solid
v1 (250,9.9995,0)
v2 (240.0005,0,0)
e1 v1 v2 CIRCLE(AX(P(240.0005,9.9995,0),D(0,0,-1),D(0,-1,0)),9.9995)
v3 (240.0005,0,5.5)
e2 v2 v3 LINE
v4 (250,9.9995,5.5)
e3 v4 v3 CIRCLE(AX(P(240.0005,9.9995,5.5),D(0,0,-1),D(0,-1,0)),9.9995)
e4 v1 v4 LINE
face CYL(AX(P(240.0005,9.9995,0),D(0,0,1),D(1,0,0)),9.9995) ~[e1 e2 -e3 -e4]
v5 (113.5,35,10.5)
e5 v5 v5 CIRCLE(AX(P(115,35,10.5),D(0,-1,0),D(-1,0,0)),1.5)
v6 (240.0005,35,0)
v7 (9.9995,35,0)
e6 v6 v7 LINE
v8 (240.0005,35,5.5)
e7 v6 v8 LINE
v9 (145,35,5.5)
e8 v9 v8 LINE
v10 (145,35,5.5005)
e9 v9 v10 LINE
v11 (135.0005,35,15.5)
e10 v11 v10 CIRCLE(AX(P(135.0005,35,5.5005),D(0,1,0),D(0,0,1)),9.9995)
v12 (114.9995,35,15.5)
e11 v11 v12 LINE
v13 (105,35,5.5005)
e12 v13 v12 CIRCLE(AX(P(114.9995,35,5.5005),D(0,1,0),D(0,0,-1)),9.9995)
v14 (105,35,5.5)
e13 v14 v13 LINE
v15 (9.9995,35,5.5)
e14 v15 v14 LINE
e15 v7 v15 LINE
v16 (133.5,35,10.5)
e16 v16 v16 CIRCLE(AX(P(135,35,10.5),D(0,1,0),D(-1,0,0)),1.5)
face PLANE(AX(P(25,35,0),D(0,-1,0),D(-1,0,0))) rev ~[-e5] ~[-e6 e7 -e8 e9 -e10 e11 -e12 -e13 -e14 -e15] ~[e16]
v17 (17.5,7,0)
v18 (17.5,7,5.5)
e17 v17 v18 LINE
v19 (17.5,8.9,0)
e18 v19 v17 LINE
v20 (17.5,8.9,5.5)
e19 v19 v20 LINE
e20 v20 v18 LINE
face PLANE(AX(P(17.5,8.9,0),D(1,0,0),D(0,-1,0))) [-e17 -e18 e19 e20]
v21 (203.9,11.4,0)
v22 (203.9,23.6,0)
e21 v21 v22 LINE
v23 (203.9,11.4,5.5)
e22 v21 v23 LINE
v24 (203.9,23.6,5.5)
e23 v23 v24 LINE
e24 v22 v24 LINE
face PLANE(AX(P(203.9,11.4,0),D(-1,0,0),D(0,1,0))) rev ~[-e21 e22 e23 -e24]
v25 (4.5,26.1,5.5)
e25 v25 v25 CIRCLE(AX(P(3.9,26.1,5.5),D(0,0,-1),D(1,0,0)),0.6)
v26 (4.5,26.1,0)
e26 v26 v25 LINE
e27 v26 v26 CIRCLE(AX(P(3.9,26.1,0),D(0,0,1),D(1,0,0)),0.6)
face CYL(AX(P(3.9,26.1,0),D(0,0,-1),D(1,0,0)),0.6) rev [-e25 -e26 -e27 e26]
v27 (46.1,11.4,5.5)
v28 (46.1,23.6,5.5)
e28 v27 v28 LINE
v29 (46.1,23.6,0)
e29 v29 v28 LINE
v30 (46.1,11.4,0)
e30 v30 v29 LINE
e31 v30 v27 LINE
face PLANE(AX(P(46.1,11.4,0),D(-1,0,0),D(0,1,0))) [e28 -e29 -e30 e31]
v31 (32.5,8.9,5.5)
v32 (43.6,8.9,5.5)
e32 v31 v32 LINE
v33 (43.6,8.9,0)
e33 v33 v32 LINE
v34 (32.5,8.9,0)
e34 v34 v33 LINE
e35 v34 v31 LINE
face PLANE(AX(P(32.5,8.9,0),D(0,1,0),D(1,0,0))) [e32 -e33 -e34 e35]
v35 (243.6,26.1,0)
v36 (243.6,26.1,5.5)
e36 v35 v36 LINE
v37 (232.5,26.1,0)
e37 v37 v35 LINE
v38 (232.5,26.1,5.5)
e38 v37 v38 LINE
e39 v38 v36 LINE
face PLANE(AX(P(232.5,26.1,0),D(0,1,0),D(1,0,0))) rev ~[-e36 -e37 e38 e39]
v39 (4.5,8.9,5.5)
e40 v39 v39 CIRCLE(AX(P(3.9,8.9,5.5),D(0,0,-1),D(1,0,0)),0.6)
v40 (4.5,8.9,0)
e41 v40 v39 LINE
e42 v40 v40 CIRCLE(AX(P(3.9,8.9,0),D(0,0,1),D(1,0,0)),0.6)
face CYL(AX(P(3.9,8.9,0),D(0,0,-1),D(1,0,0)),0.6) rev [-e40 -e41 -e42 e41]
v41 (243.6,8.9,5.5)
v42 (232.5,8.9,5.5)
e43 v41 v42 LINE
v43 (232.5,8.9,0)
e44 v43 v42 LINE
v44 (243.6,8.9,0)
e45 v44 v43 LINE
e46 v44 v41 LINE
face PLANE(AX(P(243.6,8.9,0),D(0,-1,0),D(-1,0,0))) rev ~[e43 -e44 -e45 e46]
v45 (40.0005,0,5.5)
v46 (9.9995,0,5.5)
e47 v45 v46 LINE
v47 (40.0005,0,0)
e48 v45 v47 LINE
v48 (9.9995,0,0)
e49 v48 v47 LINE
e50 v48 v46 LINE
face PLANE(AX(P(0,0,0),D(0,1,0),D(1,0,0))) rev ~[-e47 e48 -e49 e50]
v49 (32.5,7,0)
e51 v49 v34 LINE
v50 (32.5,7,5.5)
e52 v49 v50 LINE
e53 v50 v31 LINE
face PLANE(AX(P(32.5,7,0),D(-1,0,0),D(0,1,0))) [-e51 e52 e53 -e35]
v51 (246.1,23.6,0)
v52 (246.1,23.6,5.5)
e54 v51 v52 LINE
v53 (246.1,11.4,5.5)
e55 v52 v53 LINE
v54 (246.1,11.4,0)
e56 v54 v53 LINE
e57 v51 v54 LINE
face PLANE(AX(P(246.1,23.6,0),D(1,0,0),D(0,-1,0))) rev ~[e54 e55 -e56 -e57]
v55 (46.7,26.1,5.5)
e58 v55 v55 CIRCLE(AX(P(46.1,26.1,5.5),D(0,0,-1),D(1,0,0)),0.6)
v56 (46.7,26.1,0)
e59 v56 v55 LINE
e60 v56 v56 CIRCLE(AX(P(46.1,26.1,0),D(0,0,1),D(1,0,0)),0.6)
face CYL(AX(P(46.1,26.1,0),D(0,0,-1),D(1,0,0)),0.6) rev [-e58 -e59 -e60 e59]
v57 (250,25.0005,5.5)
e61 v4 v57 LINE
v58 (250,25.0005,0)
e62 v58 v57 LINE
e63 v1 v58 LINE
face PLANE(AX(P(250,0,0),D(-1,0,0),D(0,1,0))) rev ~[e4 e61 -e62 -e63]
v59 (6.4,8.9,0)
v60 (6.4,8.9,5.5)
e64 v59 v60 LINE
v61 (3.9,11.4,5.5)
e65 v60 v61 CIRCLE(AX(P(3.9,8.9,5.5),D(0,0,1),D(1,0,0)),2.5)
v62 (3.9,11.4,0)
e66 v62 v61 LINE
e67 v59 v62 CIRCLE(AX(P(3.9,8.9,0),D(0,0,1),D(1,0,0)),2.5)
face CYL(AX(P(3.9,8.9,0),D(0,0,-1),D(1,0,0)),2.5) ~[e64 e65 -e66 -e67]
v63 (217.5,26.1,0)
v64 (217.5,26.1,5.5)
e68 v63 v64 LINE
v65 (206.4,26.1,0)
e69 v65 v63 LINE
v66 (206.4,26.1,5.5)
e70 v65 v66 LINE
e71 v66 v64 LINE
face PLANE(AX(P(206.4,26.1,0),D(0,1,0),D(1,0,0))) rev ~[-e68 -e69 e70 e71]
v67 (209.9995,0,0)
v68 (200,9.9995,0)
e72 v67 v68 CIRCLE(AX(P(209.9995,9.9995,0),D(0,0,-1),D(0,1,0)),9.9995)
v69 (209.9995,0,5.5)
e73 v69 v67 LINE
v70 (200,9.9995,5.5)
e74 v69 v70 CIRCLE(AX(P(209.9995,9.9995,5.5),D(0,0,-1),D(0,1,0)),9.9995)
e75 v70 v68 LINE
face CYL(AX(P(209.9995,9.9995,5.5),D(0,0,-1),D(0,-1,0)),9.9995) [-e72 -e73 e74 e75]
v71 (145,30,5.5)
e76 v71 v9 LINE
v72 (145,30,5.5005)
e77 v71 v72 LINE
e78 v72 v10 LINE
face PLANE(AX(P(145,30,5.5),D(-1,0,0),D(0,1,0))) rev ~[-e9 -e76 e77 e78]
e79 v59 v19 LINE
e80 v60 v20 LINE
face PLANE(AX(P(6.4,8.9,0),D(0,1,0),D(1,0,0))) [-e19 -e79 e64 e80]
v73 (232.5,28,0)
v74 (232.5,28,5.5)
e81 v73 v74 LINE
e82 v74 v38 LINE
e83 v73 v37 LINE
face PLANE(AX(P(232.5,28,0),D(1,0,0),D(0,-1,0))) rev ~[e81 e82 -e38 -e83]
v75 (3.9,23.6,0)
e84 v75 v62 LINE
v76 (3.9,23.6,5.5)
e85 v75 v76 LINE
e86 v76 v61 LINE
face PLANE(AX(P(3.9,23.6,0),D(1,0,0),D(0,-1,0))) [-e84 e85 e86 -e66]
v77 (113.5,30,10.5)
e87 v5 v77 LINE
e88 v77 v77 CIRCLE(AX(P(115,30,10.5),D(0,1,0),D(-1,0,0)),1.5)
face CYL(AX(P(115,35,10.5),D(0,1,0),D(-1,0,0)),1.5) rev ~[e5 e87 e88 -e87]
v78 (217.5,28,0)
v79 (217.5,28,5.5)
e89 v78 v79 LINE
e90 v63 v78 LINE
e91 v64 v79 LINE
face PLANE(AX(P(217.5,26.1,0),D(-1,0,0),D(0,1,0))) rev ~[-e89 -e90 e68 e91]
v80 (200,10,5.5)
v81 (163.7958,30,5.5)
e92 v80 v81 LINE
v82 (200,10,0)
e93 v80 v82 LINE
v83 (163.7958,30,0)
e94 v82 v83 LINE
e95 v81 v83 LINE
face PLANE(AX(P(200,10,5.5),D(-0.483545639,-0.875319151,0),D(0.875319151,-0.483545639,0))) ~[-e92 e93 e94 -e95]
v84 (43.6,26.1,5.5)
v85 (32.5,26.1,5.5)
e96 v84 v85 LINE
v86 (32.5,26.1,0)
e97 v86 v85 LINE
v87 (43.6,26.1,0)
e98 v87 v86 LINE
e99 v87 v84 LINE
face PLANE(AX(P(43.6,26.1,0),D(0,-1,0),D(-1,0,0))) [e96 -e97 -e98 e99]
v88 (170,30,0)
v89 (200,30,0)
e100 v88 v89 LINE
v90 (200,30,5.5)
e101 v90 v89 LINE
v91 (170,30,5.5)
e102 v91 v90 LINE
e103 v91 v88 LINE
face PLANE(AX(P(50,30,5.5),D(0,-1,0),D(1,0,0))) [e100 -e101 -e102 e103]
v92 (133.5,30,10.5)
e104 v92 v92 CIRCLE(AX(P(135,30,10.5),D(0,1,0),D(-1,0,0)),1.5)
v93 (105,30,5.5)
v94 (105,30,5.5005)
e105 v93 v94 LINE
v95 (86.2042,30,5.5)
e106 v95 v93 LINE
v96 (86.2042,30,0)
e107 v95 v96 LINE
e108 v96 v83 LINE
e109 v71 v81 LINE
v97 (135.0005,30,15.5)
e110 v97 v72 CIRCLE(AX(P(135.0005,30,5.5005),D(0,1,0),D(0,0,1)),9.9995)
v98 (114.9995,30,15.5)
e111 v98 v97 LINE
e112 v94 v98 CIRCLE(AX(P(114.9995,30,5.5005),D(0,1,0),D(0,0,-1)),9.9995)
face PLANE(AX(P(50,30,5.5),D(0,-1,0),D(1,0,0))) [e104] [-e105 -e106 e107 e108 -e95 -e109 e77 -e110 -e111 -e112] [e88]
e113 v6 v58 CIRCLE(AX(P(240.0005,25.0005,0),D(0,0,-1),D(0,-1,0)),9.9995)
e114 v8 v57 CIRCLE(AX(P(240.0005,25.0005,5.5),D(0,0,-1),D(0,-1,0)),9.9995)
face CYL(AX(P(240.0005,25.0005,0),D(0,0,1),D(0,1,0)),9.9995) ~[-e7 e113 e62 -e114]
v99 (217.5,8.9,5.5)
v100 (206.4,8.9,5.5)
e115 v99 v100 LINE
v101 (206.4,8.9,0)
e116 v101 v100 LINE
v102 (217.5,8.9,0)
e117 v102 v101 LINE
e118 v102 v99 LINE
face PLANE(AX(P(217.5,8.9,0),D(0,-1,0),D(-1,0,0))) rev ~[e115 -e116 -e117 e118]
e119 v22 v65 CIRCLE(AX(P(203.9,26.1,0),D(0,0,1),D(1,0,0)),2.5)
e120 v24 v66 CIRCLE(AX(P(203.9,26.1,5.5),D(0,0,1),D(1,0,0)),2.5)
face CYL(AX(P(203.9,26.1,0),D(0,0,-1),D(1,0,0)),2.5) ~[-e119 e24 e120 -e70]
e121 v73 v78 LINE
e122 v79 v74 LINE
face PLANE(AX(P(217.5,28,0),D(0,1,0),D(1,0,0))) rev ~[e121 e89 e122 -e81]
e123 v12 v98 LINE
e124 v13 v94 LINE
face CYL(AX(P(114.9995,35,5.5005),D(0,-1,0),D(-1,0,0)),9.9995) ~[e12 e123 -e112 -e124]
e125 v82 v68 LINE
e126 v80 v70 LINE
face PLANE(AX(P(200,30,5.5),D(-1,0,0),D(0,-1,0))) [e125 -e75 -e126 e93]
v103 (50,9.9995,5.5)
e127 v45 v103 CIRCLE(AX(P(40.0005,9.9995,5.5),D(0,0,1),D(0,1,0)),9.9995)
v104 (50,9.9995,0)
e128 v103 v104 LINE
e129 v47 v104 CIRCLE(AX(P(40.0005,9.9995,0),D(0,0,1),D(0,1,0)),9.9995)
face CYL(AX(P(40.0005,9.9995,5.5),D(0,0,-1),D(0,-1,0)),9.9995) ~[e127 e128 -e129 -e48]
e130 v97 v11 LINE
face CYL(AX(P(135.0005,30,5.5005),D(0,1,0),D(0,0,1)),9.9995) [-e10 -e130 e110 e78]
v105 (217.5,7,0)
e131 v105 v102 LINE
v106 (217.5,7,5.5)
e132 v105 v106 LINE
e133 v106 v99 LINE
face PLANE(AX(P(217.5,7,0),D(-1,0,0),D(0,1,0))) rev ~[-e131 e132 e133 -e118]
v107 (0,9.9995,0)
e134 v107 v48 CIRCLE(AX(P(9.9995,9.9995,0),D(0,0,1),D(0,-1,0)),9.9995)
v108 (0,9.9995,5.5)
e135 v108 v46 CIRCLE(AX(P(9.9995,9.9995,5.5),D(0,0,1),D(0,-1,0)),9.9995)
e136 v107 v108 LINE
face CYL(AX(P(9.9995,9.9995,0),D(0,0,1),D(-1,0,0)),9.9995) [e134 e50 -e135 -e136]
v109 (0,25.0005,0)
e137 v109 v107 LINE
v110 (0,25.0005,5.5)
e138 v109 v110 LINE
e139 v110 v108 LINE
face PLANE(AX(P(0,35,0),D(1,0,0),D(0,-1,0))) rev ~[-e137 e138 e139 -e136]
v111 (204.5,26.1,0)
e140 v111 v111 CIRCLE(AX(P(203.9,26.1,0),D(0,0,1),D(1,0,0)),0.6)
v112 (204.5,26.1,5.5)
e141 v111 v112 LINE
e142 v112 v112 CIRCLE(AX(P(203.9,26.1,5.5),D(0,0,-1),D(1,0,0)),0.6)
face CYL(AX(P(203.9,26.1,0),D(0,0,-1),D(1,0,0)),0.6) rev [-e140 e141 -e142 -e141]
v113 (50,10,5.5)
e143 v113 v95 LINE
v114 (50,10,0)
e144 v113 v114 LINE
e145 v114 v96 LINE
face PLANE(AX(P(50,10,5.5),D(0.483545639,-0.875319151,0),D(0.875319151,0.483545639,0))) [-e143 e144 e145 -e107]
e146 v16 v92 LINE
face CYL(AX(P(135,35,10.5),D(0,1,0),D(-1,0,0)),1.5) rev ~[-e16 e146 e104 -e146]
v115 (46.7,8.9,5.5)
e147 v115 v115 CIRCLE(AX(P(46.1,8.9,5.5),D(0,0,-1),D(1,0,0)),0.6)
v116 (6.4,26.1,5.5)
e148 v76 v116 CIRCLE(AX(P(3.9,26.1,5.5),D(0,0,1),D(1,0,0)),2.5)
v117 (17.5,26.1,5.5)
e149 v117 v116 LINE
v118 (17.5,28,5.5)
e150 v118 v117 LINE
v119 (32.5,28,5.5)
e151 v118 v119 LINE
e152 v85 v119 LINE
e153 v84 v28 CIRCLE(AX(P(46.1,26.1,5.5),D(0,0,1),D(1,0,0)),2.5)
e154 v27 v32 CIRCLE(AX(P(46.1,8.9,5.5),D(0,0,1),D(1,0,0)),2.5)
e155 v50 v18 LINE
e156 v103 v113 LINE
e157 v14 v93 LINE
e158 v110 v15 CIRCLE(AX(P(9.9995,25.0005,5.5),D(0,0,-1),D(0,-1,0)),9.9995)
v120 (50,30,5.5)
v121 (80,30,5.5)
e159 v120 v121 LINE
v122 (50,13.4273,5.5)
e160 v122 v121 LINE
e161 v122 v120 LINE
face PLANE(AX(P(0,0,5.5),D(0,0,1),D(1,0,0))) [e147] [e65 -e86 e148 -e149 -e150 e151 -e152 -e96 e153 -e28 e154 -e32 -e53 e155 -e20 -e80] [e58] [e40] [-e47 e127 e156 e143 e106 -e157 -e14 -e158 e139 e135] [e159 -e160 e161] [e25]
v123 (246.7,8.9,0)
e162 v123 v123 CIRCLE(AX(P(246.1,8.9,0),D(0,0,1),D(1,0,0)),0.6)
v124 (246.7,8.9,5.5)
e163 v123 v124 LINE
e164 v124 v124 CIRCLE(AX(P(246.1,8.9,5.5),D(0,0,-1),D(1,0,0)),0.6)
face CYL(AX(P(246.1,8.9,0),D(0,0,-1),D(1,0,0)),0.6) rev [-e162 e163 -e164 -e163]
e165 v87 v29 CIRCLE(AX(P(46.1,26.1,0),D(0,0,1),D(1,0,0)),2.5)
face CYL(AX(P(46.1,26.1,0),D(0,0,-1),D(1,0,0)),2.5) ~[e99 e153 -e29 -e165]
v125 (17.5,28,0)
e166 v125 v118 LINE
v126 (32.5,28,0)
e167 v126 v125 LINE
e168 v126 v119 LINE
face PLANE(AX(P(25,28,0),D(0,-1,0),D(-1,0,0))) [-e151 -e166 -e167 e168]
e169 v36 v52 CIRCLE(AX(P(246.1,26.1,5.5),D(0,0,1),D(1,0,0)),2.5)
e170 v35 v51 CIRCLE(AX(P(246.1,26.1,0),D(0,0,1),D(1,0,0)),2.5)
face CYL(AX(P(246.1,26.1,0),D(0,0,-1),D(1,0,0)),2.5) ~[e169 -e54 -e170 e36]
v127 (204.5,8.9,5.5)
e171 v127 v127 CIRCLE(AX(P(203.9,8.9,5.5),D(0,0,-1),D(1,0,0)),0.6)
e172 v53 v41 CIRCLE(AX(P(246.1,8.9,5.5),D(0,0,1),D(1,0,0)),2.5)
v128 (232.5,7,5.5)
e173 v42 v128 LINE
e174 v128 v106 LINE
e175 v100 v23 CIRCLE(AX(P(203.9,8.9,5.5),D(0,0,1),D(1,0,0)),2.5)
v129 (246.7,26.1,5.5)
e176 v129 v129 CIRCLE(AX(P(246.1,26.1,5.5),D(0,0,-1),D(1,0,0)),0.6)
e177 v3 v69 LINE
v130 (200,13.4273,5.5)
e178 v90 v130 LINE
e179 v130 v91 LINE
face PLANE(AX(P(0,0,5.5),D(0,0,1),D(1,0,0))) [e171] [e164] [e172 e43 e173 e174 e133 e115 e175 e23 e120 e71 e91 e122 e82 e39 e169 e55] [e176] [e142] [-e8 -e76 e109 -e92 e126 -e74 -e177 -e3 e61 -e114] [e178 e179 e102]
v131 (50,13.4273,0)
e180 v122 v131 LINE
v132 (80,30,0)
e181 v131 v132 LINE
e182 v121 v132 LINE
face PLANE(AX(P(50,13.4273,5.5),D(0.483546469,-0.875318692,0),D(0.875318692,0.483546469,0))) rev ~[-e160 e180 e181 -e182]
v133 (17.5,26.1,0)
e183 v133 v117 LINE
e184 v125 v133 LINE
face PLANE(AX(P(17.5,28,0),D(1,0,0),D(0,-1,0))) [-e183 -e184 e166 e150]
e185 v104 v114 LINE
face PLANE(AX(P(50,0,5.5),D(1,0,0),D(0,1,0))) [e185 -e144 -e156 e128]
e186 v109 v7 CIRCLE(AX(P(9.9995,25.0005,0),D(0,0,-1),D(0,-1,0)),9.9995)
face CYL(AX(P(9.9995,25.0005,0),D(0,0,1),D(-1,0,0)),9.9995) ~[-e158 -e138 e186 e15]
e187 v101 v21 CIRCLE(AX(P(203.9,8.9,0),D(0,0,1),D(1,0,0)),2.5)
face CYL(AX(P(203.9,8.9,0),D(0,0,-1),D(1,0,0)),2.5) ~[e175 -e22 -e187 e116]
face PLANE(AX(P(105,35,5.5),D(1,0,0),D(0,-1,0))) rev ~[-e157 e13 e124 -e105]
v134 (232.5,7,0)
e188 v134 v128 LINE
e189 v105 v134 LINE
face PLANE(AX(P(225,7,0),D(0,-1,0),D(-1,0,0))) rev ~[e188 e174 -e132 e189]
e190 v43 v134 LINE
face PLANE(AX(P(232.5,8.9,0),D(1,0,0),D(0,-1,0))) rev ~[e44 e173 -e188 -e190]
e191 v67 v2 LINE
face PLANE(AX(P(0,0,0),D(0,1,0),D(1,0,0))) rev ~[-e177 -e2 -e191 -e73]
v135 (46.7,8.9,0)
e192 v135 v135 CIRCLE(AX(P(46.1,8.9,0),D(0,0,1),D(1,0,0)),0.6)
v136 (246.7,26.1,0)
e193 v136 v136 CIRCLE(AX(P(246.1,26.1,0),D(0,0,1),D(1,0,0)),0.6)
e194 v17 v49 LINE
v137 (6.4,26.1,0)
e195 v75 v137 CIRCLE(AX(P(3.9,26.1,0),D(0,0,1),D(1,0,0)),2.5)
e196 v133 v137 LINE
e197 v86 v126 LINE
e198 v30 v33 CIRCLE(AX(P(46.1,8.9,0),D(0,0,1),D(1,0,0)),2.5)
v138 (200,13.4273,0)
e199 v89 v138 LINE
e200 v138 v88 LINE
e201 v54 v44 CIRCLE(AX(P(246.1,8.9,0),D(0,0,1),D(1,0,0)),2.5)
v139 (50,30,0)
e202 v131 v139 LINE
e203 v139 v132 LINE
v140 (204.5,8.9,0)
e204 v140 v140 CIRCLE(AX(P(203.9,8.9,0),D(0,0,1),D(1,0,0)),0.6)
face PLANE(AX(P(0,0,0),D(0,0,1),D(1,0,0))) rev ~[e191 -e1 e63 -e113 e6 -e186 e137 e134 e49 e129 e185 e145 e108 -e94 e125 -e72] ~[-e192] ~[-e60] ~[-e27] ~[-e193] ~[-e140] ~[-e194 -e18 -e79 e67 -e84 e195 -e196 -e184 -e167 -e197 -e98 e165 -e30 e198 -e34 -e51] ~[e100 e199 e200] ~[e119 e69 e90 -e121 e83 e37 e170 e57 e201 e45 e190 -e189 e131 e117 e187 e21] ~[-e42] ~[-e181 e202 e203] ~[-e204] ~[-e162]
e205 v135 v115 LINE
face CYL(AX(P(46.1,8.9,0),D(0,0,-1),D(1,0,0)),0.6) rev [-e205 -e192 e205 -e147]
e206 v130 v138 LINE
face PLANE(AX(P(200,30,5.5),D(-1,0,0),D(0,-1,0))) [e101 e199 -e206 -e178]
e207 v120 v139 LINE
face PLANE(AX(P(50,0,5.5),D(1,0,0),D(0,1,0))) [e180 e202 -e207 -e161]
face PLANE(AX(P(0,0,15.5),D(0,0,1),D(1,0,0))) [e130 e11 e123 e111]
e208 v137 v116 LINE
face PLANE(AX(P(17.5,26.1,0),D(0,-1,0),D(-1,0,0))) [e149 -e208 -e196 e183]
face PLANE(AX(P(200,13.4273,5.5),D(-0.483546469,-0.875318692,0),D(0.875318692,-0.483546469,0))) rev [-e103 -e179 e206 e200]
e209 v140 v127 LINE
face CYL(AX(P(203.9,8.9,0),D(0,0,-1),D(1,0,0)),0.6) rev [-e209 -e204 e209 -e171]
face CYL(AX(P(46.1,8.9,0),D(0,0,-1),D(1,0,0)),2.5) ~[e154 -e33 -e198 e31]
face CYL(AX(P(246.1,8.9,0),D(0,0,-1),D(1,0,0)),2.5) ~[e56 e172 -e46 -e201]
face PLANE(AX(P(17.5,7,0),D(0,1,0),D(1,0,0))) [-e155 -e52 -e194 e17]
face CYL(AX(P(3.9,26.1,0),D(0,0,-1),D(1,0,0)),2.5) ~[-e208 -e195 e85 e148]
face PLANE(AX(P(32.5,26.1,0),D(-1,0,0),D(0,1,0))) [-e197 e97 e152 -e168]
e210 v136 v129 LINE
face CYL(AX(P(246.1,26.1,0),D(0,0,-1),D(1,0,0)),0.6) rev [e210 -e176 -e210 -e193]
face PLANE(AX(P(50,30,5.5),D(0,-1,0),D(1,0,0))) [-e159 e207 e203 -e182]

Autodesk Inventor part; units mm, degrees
ref_plane "YZ Plane" through (0, 0, 0) normal (1, 0, 0) x (0, 1, 0)
ref_plane "XZ Plane" through (0, 0, 0) normal (0, 1, 0) x (-1, 0, 0)
ref_plane "XY Plane" through (0, 0, 0) normal (0, 0, 1) x (1, 0, 0)
sketch "Sketch1" plane through (0, 0, 0) normal (0, 0, 1) x (1, 0, 0)
  line L0 (0, 0) -> (250, 0)
  line L1 (250, 0) -> (250, 35)
  line L2 (250, 35) -> (0, 35)
  line L3 (0, 35) -> (0, 0)
  line L4 (25, 35) -> (25, 0)
  line L5 (3.9, 8.9) -> (46.1, 8.9)
  line L6 (46.1, 8.9) -> (46.1, 26.1)
  line L7 (46.1, 26.1) -> (3.9, 26.1)
  line L8 (3.9, 26.1) -> (3.9, 8.9)
  line L9 (3.9, 8.9) -> (46.1, 26.1) construction
  line L10 (46.1, 8.9) -> (3.9, 26.1) construction
  circle A0 centre (3.9, 26.1) radius 2.5
  circle A1 centre (46.1, 26.1) radius 2.5
  circle A2 centre (3.9, 8.9) radius 2.5
  circle A3 centre (46.1, 8.9) radius 2.5
  circle A4 centre (3.9, 26.1) radius 0.6
  circle A5 centre (46.1, 26.1) radius 0.6
  circle A6 centre (3.9, 8.9) radius 0.6
  circle A7 centre (46.1, 8.9) radius 0.6
  line L11 (125, 35) -> (125, 0)
  line L12 (225, 35) -> (225, 0)
  line L13 (246.1, 8.9) -> (203.9, 8.9)
  line L14 (203.9, 8.9) -> (203.9, 26.1)
  line L15 (203.9, 26.1) -> (246.1, 26.1)
  line L16 (246.1, 26.1) -> (246.1, 8.9)
  line L17 (246.1, 8.9) -> (203.9, 26.1) construction
  line L18 (203.9, 8.9) -> (246.1, 26.1) construction
  circle A8 centre (246.1, 26.1) radius 2.5
  circle A9 centre (203.9, 26.1) radius 2.5
  circle A10 centre (246.1, 8.9) radius 2.5
  circle A11 centre (203.9, 8.9) radius 2.5
  circle A12 centre (246.1, 26.1) radius 0.6
  circle A13 centre (203.9, 26.1) radius 0.6
  circle A14 centre (246.1, 8.9) radius 0.6
  circle A15 centre (203.9, 8.9) radius 0.6
  line L19 (17.5, 7) -> (32.5, 7)
  line L20 (32.5, 7) -> (32.5, 28)
  line L21 (32.5, 28) -> (17.5, 28)
  line L22 (17.5, 28) -> (17.5, 7)
  line L23 (17.5, 7) -> (32.5, 28) construction
  line L24 (32.5, 7) -> (17.5, 28) construction
  line L25 (46.1, 26.1) -> (3.9, 26.1)
  line L26 (232.5, 7) -> (217.5, 7)
  line L27 (217.5, 7) -> (217.5, 28)
  line L28 (217.5, 28) -> (232.5, 28)
  line L29 (232.5, 28) -> (232.5, 7)
  point P0 (25, 17.5)
  point P1 (225, 17.5)
  point P2 (6.4, 26.1)
  point P3 (17.5, 26.1)
  point P4 (32.5, 26.1)
  point P5 (43.6, 26.1)
  point P6 (46.1, 23.6)
  point P7 (46.1, 11.4)
  point P8 (43.6, 8.9)
  point P9 (32.5, 8.9)
  point P10 (17.5, 8.9)
  point P11 (6.4, 8.9)
  point P12 (3.9, 11.4)
  point P13 (3.9, 23.6)
  point P14 (217.5, 8.9)
  point P15 (206.4, 8.9)
  point P16 (203.9, 11.4)
  point P17 (203.9, 23.6)
  point P18 (206.4, 26.1)
  point P19 (217.5, 26.1)
  point P20 (232.5, 26.1)
  point P21 (243.6, 26.1)
  point P22 (246.1, 23.6)
  point P23 (246.1, 11.4)
  point P24 (243.6, 8.9)
  point P25 (232.5, 8.9)
  dimension "d0" = 250
  dimension "d1" = 35
  dimension "d2" = 17.2
  dimension "d3" = 42.2
  dimension "d4" = 5
  dimension "d5" = 5
  dimension "d6" = 5
  dimension "d7" = 5
  dimension "d8" = 1.2
  dimension "d9" = 1.2
  dimension "d10" = 1.2
  dimension "d11" = 1.2
  dimension "d12" = 25
  dimension "d13" = 15
  dimension "d14" = 21
extrude "Extrusion1" add sketch "Sketch1" along normal blind 5.5 contours L3 L2 L4 L21 L22 L7 A0 L8 A2 L5 L19 L0 | L4 L19 L20 L5 A3 L6 A1 L7 L21 L2 L11 L0 | L11 L2 L12 L28 L27 L15 A9 L14 A11 L13 L26 L0 | L12 L26 L29 L13 A10 L16 A8 L15 L28 L2 L1 L0 | A2 L8 A6 L5 | L5 A6 L8 A2 | A3 L6 A7 L5 | L5 A7 L6 A3 | A1 L6 A5 L7 | L7 A5 L6 A1 | A0 L8 A4 L7 | L7 A4 L8 A0 | A6 L8 L5 | L5 L8 A6 | A7 L6 L5 | L5 L6 A7 | A10 L16 A14 L13 | L13 A14 L16 A10 | A11 L14 A15 L13 | L13 A15 L14 A11 | A5 L6 L7 | L7 L6 A5 | A4 L8 L7 | L7 L8 A4 | A9 L14 A13 L15 | L15 A13 L14 A9 | A8 L16 A12 L15 | L15 A12 L16 A8 | A14 L16 L13 | L13 L16 A14 | A15 L14 L13 | L13 L14 A15 | A13 L14 L15 | L15 L14 A13 | A12 L16 L15 | L15 L16 A12
extrude "Extrusion2" cut sketch "Sketch1" along normal blind 5.5 contours A6 L8 L5 | L5 L8 A6 | A7 L6 L5 | L5 L6 A7 | A5 L6 L7 | L7 L6 A5 | A4 L8 L7 | L7 L8 A4 | A14 L16 L13 | L13 L16 A14 | A15 L14 L13 | L13 L14 A15 | A13 L14 L15 | L15 L14 A13 | A12 L16 L15 | L15 L16 A12
sketch "Sketch2" plane through (0, 0, 5.5) normal (0, 0, 1) x (1, 0, 0)
  line L0 (200, -30) -> (50, -30)
  line L1 (50, -30) -> (50, 30)
  line L2 (50, 30) -> (200, 30)
  line L3 (200, 30) -> (200, -30)
  line L4 (0, 0) -> (250, 0) projected
  line L5 (200, -30) -> (50, 30) construction
  line L6 (50, -30) -> (200, 30) construction
  point P0 (125, 0)
  point P1 (50, 0)
  point P2 (200, 0)
  dimension "d19" = 150
  dimension "d20" = 60
extrude "Extrusion3" cut sketch "Sketch2" against normal blind 5.5 contours L4 L1 L2 L3
sketch "Sketch3" plane through (0, 0, 5.5) normal (0, 0, 1) x (1, 0, 0)
  line L0 (50, 30) -> (200, 30) projected
  line L1 (105, 30) -> (145, 30)
  line L2 (145, 30) -> (145, 35)
  line L3 (145, 35) -> (105, 35)
  line L4 (105, 35) -> (105, 30)
  point P0 (0, 0)
  point P1 (145, 30)
  dimension "d23" = 40
  dimension "d24" = 5
  dimension "d25" = 55
extrude "Extrusion4" add sketch "Sketch3" along normal blind 10
sketch "Sketch4" plane through (105, 35, 5.5) normal (0, 1, 0) x (-1, 0, 0)
  line L0 (0, 10) -> (-40, 10) projected
  line L1 (-20, 10) -> (-20, 0)
  line L2 (-145, 0) -> (105, 0) projected
  circle A0 centre (-10, 5) radius 1.5
  circle A1 centre (-30, 5) radius 1.5
  line L3 (-10, 5) -> (-30, 5)
  point P0 (105, -5.5)
  dimension "d28" = 10
  dimension "d29" = 3
  dimension "d30" = 3
  dimension "d31" = 10
extrude "Extrusion5" cut sketch "Sketch4" against normal blind 10
fillet "Fillet1" radius 10 8 edges at (0, 35, 2.75) (50, 0, 2.75) (0, 0, 2.75) (145, 32.5, 15.5) (105, 32.5, 15.5) (200, 0, 2.75) (250, 0, 2.75) (250, 35, 2.75)
sketch "Sketch5" plane through (0, 0, 5.5) normal (0, 0, 1) x (1, 0, 0)
  arc A0 (40, 0) -> (50, 10) centre (40, 10) ccw projected
  line L0 (50, 10) -> (86.2042, 30)
  line L1 (50, 30) -> (105, 30) projected
  line L2 (50, 10) -> (50, 30) projected
  line L3 (50, 13.4273) -> (80, 30)
  arc A1 (0, 10) -> (10, 0) centre (10, 10) ccw projected
  line L4 (10, 0) -> (40, 0) projected
  arc A2 (40, 0) -> (50, 10) centre (40, 10) ccw projected
  line L5 (50, 10) -> (50, 30) projected
  line L6 (50, 30) -> (105, 30) projected
  line L7 (105, 30) -> (105, 35) projected
  line L8 (105, 35) -> (10, 35) projected
  arc A3 (10, 35) -> (0, 25) centre (10, 25) ccw projected
  line L9 (0, 25) -> (0, 10) projected
  circle A4 centre (46.1, 8.9) radius 0.6 projected
  circle A5 centre (3.9, 8.9) radius 0.6 projected
  circle A6 centre (46.1, 26.1) radius 0.6 projected
  circle A7 centre (3.9, 26.1) radius 0.6 projected
  line L10 (6.4, 26.1) -> (17.5, 26.1) projected
  line L11 (17.5, 26.1) -> (17.5, 28) projected
  line L12 (17.5, 28) -> (32.5, 28) projected
  line L13 (32.5, 28) -> (32.5, 26.1) projected
  line L14 (32.5, 26.1) -> (43.6, 26.1) projected
  arc A8 (43.6, 26.1) -> (46.1, 23.6) centre (46.1, 26.1) ccw projected
  line L15 (46.1, 23.6) -> (46.1, 11.4) projected
  arc A9 (46.1, 11.4) -> (43.6, 8.9) centre (46.1, 8.9) ccw projected
  line L16 (43.6, 8.9) -> (32.5, 8.9) projected
  line L17 (32.5, 8.9) -> (32.5, 7) projected
  line L18 (32.5, 7) -> (17.5, 7) projected
  line L19 (17.5, 7) -> (17.5, 8.9) projected
  line L20 (17.5, 8.9) -> (6.4, 8.9) projected
  arc A10 (6.4, 8.9) -> (3.9, 11.4) centre (3.9, 8.9) ccw projected
  line L21 (3.9, 11.4) -> (3.9, 23.6) projected
  arc A11 (3.9, 23.6) -> (6.4, 26.1) centre (3.9, 26.1) ccw projected
  point P0 (0, 0)
  dimension "d35" = 3
  dimension "d36" = 30
extrude "Extrusion6" add sketch "Sketch5" against normal blind 5.5 contours L2 L3 L1 L0
ref_plane "Work Plane1" through (125, 30, 5.5) normal (1, 0, 0) x (0, 0, -1)
mirror "Mirror1" about plane through (125, 30, 5.5) normal (1, 0, 0) of "Extrusion6"
properties part number "UltrasonicHolder"
